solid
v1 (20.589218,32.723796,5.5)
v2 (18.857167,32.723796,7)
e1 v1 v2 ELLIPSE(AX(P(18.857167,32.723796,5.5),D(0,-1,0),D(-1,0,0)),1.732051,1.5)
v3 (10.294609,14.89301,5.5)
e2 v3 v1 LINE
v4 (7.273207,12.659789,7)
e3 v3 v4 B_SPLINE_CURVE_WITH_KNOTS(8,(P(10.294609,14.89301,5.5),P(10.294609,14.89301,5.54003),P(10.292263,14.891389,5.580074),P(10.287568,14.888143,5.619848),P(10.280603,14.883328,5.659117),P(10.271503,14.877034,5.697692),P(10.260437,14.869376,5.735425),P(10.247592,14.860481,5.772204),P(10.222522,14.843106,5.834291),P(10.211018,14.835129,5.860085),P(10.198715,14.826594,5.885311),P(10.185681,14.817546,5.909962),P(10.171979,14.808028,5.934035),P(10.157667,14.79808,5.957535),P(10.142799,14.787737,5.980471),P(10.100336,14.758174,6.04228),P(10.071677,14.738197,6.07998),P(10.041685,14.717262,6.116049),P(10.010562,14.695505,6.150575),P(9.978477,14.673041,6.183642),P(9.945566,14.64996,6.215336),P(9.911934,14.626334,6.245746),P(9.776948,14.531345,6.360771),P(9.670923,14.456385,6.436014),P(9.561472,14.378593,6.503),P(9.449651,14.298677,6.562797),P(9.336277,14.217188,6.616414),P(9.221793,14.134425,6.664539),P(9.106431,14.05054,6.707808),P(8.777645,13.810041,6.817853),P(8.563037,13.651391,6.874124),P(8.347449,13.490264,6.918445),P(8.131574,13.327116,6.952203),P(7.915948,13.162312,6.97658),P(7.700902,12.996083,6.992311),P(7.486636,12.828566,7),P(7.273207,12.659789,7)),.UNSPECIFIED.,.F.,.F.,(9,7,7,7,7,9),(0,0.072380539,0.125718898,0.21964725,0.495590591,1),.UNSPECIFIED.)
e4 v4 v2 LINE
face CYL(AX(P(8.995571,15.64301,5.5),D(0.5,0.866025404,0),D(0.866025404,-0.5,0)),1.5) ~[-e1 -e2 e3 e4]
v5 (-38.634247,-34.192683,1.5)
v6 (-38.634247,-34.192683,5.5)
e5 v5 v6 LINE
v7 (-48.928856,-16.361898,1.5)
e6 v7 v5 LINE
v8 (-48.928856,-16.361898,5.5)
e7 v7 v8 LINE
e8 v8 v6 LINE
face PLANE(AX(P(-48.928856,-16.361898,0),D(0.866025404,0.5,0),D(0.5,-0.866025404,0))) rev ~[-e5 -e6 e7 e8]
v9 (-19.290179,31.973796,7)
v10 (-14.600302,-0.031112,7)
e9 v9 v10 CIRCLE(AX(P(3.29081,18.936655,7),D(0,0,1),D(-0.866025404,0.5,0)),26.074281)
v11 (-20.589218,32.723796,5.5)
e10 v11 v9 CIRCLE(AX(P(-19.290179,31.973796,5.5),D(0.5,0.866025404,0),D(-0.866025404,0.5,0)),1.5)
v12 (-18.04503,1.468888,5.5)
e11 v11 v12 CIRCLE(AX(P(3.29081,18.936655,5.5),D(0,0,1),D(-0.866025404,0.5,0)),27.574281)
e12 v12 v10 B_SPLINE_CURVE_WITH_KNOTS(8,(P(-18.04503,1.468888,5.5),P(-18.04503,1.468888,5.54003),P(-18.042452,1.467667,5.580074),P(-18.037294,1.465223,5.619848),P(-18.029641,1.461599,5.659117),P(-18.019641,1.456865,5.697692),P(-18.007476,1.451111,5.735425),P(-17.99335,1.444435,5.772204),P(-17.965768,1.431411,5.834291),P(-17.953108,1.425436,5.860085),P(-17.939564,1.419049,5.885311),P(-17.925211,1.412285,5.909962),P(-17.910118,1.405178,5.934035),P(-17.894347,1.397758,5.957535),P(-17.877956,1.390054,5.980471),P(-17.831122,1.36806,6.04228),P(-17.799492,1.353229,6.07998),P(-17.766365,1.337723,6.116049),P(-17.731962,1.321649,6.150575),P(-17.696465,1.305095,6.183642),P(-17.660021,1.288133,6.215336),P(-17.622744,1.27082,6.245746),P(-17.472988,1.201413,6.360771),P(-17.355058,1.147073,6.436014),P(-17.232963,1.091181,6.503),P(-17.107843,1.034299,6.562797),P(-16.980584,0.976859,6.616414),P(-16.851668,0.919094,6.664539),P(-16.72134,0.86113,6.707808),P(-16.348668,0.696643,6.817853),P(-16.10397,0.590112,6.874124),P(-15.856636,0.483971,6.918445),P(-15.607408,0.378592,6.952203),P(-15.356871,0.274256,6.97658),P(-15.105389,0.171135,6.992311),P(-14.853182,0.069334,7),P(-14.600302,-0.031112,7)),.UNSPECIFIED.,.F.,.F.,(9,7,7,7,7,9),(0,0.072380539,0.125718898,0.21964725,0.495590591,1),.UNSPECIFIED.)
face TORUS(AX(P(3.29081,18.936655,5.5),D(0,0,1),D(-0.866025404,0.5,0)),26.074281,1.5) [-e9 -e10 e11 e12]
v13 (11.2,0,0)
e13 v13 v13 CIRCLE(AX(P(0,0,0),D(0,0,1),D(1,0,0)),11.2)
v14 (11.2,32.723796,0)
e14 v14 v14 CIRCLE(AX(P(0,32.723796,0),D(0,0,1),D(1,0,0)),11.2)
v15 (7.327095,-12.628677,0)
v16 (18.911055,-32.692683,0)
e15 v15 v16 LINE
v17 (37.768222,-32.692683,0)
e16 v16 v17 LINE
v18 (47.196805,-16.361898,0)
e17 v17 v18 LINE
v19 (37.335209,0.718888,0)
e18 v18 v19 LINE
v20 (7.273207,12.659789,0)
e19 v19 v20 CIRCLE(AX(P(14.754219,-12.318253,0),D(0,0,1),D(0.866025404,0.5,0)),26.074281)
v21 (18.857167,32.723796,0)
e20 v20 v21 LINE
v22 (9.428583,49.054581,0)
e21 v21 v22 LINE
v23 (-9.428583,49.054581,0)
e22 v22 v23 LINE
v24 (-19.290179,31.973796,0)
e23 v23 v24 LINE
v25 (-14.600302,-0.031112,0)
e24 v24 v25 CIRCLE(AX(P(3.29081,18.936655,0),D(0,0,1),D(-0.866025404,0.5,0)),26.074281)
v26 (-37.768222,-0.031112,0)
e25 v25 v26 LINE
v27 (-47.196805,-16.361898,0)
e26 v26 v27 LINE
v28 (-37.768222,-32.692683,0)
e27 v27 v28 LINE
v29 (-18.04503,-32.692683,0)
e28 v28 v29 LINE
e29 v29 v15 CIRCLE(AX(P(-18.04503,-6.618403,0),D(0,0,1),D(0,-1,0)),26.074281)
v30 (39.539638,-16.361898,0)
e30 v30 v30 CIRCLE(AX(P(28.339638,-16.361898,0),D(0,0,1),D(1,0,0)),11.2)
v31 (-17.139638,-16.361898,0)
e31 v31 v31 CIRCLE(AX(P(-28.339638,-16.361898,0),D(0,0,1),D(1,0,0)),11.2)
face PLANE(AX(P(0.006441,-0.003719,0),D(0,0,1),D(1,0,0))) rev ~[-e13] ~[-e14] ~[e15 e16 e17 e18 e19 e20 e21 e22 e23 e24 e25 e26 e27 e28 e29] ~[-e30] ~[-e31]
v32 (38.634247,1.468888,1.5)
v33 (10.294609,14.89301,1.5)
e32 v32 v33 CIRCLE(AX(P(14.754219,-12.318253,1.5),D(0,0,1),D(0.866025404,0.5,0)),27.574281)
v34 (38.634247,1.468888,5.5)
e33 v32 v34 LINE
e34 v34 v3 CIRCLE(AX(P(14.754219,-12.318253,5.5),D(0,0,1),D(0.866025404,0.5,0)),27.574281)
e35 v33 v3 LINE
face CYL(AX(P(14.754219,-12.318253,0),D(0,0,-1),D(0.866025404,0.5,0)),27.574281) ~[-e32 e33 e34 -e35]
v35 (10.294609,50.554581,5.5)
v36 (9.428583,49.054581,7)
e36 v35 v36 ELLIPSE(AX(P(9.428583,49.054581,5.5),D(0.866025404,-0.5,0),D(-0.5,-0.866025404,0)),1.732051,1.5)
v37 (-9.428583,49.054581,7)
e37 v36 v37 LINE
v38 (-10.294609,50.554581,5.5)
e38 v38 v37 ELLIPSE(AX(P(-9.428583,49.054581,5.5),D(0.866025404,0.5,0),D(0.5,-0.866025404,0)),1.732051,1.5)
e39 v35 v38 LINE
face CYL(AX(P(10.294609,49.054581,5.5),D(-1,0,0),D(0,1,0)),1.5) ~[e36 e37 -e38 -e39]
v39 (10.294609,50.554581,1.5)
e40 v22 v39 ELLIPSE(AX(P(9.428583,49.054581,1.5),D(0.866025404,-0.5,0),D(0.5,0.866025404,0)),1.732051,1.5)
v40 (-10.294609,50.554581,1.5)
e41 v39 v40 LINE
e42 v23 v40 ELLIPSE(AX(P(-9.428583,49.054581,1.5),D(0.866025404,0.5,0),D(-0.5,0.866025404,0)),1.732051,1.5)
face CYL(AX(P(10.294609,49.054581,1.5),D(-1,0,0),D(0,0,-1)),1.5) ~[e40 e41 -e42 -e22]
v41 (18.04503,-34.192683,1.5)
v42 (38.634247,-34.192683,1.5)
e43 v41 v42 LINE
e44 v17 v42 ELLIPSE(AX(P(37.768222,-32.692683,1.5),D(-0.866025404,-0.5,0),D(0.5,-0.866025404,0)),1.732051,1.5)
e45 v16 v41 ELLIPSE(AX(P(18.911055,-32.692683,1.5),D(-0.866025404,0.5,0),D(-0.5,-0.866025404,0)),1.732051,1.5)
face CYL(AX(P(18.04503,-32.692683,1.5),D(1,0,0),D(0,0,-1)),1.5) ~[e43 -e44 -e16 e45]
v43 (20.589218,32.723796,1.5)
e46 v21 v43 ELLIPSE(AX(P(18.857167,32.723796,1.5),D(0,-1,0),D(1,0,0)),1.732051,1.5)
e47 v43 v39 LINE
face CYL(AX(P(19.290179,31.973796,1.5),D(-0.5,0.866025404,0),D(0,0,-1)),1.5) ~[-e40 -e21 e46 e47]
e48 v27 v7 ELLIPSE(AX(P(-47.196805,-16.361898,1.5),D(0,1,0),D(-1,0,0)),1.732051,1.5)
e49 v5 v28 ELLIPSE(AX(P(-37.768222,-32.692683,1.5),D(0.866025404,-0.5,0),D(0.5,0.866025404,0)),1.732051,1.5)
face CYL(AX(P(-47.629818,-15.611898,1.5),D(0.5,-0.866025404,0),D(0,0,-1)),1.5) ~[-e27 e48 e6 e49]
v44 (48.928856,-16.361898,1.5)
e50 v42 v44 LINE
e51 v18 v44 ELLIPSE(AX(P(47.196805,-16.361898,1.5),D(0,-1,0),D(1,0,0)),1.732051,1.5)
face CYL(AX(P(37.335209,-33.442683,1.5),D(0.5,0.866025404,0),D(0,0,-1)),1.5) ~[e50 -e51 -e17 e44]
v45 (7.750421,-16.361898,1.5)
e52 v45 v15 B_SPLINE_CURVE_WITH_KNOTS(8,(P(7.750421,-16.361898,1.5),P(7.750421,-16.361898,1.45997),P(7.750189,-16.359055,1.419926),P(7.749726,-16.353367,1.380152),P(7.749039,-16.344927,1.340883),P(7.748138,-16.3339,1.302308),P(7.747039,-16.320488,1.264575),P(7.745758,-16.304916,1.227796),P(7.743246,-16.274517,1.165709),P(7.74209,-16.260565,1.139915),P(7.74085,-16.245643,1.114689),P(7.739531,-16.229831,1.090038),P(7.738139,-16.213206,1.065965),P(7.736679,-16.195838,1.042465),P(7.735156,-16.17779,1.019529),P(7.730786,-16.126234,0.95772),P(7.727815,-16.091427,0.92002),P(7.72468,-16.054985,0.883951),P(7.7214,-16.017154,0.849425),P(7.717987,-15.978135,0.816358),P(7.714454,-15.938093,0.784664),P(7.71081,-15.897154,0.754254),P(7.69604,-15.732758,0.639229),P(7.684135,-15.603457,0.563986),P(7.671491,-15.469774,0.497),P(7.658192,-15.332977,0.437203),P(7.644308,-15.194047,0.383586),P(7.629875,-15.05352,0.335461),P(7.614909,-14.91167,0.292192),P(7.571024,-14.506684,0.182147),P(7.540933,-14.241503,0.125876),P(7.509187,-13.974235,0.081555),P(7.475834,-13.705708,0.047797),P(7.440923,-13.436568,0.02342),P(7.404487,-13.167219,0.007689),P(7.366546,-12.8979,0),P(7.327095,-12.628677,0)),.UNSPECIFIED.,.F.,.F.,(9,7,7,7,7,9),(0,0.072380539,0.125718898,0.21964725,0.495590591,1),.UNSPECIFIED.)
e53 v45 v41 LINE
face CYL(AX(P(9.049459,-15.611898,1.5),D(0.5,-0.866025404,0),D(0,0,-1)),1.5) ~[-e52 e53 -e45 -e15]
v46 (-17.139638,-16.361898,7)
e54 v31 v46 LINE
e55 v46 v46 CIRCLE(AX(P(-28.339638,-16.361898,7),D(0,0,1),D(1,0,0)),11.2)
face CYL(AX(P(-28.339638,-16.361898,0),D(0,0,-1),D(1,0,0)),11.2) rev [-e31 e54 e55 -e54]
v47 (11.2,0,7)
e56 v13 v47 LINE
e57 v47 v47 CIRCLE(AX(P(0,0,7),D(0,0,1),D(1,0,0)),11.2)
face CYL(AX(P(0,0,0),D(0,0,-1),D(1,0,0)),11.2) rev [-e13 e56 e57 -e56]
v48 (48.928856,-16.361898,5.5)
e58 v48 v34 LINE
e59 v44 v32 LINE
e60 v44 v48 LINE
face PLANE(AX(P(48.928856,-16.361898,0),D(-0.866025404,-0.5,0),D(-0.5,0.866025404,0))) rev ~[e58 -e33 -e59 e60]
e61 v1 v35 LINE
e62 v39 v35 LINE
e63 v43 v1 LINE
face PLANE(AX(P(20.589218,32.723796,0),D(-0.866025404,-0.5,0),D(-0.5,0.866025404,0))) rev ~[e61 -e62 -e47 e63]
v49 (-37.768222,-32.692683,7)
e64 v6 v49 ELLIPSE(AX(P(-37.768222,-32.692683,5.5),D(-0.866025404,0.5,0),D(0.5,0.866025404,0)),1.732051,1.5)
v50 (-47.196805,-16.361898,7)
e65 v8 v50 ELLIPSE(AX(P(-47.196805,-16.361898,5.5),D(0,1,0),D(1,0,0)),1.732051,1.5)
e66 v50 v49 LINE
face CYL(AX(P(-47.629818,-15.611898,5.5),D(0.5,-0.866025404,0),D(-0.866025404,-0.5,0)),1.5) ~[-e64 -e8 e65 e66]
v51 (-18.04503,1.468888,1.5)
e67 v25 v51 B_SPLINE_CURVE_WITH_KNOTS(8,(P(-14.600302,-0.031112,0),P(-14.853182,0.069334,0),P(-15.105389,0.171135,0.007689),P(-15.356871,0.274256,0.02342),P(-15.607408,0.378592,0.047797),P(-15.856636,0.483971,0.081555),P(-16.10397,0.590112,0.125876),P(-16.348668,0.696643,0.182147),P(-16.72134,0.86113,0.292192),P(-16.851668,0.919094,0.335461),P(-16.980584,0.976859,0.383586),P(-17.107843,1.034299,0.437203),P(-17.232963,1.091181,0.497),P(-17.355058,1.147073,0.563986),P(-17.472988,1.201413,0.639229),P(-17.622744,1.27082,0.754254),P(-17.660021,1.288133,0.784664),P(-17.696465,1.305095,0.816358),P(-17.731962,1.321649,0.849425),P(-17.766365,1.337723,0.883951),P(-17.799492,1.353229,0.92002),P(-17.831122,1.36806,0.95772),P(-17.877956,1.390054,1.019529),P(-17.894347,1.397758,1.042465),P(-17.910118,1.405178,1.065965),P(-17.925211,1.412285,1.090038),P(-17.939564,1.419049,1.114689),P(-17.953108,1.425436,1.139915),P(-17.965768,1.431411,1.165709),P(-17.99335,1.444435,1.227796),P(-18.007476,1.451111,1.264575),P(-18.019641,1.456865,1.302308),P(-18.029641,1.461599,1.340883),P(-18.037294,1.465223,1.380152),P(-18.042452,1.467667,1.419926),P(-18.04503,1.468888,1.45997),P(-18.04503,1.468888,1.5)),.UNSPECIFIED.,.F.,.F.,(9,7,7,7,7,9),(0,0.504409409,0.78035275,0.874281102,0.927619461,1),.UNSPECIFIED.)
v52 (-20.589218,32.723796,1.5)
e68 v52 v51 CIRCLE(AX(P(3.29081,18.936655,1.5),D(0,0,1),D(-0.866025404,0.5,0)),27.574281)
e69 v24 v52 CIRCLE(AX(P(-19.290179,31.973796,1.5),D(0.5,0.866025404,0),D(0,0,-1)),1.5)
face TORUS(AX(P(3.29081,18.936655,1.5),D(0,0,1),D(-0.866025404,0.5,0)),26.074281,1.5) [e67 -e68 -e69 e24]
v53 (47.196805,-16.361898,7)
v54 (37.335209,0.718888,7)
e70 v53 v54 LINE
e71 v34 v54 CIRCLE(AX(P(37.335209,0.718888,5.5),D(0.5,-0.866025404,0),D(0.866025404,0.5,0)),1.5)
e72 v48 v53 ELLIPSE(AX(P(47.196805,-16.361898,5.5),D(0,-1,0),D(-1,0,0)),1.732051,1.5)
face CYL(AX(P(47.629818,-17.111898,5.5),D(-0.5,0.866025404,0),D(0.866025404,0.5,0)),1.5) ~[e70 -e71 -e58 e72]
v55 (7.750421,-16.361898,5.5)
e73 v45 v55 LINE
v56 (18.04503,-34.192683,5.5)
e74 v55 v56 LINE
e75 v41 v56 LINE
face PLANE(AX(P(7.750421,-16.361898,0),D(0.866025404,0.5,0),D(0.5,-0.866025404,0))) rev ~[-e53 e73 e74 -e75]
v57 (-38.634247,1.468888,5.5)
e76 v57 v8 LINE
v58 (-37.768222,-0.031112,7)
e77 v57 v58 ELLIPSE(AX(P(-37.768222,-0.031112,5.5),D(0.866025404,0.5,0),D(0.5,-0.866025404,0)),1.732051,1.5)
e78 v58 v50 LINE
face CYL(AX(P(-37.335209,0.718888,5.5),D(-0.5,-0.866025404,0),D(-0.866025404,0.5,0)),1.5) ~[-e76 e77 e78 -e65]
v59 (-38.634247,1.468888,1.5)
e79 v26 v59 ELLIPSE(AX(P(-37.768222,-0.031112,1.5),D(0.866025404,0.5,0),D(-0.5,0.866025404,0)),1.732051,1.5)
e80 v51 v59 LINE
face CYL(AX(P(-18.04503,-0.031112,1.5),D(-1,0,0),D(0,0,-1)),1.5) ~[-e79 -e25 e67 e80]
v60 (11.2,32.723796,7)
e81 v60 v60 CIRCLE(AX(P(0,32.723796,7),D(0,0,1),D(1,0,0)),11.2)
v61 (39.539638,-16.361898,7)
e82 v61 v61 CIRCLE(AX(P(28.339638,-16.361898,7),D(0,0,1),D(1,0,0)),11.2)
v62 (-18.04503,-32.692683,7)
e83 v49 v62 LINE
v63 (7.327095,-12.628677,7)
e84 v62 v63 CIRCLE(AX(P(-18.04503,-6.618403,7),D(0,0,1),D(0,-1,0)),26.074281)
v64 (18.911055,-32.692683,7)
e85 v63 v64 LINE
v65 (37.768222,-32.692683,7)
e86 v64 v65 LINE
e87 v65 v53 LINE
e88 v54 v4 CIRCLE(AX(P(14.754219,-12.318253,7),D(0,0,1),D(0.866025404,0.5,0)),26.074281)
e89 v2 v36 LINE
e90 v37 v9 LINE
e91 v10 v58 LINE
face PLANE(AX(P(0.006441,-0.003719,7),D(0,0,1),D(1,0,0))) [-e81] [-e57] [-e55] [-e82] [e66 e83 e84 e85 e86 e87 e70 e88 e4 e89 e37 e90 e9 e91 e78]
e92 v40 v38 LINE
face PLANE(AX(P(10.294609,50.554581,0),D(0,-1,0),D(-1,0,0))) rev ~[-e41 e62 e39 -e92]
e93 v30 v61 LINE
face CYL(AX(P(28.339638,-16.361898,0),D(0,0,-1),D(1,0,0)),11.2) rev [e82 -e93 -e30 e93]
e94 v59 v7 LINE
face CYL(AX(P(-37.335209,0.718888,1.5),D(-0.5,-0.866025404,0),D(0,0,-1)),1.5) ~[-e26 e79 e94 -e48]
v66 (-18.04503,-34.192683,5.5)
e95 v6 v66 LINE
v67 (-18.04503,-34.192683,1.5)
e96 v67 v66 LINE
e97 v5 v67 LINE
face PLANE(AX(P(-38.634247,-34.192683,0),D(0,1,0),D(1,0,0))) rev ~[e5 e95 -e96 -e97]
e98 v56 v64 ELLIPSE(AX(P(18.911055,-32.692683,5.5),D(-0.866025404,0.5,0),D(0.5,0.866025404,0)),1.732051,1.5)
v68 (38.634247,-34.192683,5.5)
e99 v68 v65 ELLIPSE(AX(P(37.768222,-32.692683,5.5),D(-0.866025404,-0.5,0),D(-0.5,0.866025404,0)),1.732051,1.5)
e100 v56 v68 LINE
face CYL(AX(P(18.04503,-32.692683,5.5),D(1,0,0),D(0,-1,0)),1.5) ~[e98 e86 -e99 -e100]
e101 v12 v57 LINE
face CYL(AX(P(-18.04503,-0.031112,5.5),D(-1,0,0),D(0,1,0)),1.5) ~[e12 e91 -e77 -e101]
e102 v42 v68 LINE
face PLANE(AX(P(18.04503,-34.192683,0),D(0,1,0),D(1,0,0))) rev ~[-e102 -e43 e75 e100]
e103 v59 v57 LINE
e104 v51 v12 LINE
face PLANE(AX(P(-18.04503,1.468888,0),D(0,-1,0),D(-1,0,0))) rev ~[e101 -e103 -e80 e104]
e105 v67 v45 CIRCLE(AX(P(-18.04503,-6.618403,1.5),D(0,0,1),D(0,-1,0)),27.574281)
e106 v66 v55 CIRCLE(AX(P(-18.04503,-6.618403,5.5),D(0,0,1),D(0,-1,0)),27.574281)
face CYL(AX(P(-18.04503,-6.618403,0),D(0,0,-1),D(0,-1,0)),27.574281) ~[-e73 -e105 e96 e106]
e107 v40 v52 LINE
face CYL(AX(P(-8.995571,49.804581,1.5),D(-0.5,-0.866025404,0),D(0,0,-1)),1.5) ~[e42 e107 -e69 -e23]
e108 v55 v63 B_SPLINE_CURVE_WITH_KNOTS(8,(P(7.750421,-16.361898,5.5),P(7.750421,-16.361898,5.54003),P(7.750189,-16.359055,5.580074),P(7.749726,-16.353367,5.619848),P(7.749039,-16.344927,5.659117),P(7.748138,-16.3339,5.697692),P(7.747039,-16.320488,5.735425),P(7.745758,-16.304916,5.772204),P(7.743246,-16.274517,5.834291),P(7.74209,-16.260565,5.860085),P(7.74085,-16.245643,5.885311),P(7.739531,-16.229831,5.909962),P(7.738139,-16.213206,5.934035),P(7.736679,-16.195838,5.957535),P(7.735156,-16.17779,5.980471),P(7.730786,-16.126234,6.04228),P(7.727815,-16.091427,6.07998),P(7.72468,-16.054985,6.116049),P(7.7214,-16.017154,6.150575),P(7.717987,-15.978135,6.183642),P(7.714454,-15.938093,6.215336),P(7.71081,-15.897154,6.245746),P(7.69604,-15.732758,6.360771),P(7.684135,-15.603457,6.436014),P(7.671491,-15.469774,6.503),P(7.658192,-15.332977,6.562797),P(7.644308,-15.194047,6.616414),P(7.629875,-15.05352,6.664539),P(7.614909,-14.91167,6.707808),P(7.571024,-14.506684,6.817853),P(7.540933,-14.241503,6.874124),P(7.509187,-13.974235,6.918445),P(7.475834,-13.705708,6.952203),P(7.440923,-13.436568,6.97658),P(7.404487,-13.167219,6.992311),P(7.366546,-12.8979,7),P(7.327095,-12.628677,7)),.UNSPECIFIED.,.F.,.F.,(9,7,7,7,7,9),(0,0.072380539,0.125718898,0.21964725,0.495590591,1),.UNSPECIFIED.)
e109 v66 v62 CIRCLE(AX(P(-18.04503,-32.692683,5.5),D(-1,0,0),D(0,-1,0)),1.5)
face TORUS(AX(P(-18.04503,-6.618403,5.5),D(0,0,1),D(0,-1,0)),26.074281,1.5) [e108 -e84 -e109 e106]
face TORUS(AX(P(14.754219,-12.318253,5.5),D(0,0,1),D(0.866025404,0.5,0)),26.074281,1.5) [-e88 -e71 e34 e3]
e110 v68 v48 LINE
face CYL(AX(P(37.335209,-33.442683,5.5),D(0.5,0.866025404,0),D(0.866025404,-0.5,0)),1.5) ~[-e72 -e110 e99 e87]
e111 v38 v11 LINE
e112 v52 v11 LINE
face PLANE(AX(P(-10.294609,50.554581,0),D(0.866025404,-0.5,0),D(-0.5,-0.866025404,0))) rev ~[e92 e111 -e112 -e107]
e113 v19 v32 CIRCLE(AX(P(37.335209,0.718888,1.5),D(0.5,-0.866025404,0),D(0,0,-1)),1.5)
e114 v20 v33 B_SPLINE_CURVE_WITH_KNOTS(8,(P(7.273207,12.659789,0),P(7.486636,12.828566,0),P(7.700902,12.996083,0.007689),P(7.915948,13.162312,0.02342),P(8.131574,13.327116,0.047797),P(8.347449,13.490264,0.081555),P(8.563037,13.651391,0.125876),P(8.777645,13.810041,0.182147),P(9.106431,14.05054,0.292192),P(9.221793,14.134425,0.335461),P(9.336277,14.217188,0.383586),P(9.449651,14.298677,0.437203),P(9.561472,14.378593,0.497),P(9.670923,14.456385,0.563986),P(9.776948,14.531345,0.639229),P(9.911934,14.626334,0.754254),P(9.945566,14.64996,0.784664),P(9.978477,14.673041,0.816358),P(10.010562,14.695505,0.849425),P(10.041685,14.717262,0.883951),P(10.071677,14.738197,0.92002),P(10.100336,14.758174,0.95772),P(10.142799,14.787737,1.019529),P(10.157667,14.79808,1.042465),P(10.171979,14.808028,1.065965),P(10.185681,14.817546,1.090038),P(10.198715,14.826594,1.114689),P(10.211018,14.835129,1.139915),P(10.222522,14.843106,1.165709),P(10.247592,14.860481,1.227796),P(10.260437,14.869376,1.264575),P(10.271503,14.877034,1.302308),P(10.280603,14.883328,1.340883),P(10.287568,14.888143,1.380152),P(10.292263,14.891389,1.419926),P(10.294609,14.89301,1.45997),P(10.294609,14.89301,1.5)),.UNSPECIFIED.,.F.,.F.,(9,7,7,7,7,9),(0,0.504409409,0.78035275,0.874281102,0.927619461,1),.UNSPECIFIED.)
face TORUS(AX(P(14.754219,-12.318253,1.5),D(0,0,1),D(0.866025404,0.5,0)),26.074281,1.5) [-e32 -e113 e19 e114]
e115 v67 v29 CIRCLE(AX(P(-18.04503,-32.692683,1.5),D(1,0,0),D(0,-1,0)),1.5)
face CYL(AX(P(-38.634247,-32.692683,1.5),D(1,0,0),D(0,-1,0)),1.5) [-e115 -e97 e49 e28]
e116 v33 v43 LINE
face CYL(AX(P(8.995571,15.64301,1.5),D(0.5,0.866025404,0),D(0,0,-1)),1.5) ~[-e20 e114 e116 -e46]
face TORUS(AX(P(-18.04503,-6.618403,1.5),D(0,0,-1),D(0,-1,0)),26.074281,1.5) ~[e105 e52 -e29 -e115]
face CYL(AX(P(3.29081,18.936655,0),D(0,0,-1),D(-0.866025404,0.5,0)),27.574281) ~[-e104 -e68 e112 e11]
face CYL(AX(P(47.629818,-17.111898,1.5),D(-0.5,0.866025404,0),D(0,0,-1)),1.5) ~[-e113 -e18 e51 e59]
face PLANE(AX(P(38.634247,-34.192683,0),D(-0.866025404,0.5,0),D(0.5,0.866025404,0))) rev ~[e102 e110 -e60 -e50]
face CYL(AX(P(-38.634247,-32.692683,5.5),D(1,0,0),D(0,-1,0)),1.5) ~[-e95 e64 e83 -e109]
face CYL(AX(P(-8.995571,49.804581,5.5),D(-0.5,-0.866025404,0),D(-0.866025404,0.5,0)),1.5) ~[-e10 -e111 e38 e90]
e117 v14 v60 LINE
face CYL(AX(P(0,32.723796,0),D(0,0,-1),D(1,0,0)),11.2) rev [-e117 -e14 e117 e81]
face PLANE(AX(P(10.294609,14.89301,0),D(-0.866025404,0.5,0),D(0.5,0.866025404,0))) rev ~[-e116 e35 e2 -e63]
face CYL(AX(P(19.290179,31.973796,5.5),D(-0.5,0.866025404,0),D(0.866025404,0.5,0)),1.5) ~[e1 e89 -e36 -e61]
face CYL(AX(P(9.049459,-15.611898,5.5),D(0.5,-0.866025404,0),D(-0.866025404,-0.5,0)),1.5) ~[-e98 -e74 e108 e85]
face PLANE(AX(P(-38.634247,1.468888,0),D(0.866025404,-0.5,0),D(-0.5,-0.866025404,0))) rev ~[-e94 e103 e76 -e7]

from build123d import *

# Parameters (mm, degrees)
F0_R     = 11.2
F1_DEPTH = 7
F2_R     = 1.5
F3_R     = 1.5


with BuildPart() as f1:
    # F0 (on Top) → F1 (new body)
    with BuildSketch(Plane.XY):
        with BuildLine():
            Line((7.7504207738, -16.3618978113), (11.378000875, -10.0787447675))
            ThreePointArc((11.378000875, -10.0787447675), (13.1635861375, -7.6), (14.4174494444, -4.8142654183))
            Line((14.4174494444, -4.8142654183), (18.0450295456, 1.4688876255))
            Line((18.0450295456, 1.4688876255), (38.6342470892, 1.4688876255))
            ThreePointArc((38.6342470892, 1.4688876255), (26.5584523993, 12.6016397781), (10.2946087718, 14.8930101858))
            Line((10.2946087718, 14.8930101858), (3.0394485694, 14.8930101858))
            Line((3.0394485694, 14.8930101858), (-3.0394485694, 14.8930101858))
            Line((-3.0394485694, 14.8930101858), (-10.2946087718, 14.8930101858))
            Line((-10.2946087718, 14.8930101858), (-20.5892175436, 32.7237956226))
            ThreePointArc((-20.5892175436, 32.7237956226), (-24.1925663768, 16.6994745739), (-18.0450295456, 1.4688876255))
            Line((-18.0450295456, 1.4688876255), (-7.7504207738, -16.3618978113))
            Line((-7.7504207738, -16.3618978113), (-18.0450295456, -34.1926832481))
            ThreePointArc((-18.0450295456, -34.1926832481), (-2.3658860225, -29.301114352), (7.7504207738, -16.3618978113))
        make_face()
        Circle(F0_R, mode=Mode.SUBTRACT)
        Polygon((-38.6342470892, -34.1926832481), (-18.0450295456, -34.1926832481), (-7.7504207738, -16.3618978113), (-18.0450295456, 1.4688876255), (-38.6342470892, 1.4688876255), (-48.928855861, -16.3618978113), align=None)
        with Locations((-28.3396383174, -16.3618978113)):
            Circle(F0_R, mode=Mode.SUBTRACT)
        with BuildLine():
            ThreePointArc((14.4174494444, -4.8142654183), (13.1635861375, -7.6), (11.378000875, -10.0787447675))
            Line((11.378000875, -10.0787447675), (7.7504207738, -16.3618978113))
            Line((7.7504207738, -16.3618978113), (18.0450295456, -34.1926832481))
            Line((18.0450295456, -34.1926832481), (38.6342470892, -34.1926832481))
            Line((38.6342470892, -34.1926832481), (48.928855861, -16.3618978113))
            Line((48.928855861, -16.3618978113), (38.6342470892, 1.4688876255))
            Line((38.6342470892, 1.4688876255), (18.0450295456, 1.4688876255))
            Line((18.0450295456, 1.4688876255), (14.4174494444, -4.8142654183))
        make_face()
        with Locations((28.3396383174, -16.3618978113)):
            Circle(F0_R, mode=Mode.SUBTRACT)
        Polygon((3.0394485694, 14.8930101858), (10.2946087718, 14.8930101858), (20.5892175436, 32.7237956226), (10.2946087718, 50.5545810594), (-10.2946087718, 50.5545810594), (-20.5892175436, 32.7237956226), (-10.2946087718, 14.8930101858), (-3.0394485694, 14.8930101858), align=None)
        with Locations((0, 32.7237956226)):
            Circle(F0_R, mode=Mode.SUBTRACT)
    extrude(amount=F1_DEPTH)

    # F2
    f2_edges = [f1.edges().sort_by_distance(p)[0] for p in [
        (-24.192566, 16.699475, 7),
        (-15.441913, 41.639188, 7),
        (0, 50.554581, 7),
        (15.441913, 41.639188, 7),
        (15.441913, 23.808403, 7),
        (26.558452, 12.60164, 7),
        (43.781551, -7.446505, 7),
        (43.781551, -25.277291, 7),
        (28.339638, -34.192683, 7),
        (12.897725, -25.277291, 7),
        (-2.365886, -29.301114, 7),
        (-28.339638, -34.192683, 7),
        (-43.781551, -25.277291, 7),
        (-43.781551, -7.446505, 7),
        (-28.339638, 1.468888, 7),
    ]]
    fillet(f2_edges, radius=F2_R)

    # F3
    f3_edges = [f1.edges().sort_by_distance(p)[0] for p in [
        (-28.339638, -34.192683, 0),
        (-2.365886, -29.301114, 0),
        (12.897725, -25.277291, 0),
        (28.339638, -34.192683, 0),
        (43.781551, -25.277291, 0),
        (43.781551, -7.446505, 0),
        (26.558452, 12.60164, 0),
        (15.441913, 23.808403, 0),
        (15.441913, 41.639188, 0),
        (0, 50.554581, 0),
        (-15.441913, 41.639188, 0),
        (-24.192566, 16.699475, 0),
        (-28.339638, 1.468888, 0),
        (-43.781551, -7.446505, 0),
        (-43.781551, -25.277291, 0),
    ]]
    fillet(f3_edges, radius=F3_R)


solid = f1.part
